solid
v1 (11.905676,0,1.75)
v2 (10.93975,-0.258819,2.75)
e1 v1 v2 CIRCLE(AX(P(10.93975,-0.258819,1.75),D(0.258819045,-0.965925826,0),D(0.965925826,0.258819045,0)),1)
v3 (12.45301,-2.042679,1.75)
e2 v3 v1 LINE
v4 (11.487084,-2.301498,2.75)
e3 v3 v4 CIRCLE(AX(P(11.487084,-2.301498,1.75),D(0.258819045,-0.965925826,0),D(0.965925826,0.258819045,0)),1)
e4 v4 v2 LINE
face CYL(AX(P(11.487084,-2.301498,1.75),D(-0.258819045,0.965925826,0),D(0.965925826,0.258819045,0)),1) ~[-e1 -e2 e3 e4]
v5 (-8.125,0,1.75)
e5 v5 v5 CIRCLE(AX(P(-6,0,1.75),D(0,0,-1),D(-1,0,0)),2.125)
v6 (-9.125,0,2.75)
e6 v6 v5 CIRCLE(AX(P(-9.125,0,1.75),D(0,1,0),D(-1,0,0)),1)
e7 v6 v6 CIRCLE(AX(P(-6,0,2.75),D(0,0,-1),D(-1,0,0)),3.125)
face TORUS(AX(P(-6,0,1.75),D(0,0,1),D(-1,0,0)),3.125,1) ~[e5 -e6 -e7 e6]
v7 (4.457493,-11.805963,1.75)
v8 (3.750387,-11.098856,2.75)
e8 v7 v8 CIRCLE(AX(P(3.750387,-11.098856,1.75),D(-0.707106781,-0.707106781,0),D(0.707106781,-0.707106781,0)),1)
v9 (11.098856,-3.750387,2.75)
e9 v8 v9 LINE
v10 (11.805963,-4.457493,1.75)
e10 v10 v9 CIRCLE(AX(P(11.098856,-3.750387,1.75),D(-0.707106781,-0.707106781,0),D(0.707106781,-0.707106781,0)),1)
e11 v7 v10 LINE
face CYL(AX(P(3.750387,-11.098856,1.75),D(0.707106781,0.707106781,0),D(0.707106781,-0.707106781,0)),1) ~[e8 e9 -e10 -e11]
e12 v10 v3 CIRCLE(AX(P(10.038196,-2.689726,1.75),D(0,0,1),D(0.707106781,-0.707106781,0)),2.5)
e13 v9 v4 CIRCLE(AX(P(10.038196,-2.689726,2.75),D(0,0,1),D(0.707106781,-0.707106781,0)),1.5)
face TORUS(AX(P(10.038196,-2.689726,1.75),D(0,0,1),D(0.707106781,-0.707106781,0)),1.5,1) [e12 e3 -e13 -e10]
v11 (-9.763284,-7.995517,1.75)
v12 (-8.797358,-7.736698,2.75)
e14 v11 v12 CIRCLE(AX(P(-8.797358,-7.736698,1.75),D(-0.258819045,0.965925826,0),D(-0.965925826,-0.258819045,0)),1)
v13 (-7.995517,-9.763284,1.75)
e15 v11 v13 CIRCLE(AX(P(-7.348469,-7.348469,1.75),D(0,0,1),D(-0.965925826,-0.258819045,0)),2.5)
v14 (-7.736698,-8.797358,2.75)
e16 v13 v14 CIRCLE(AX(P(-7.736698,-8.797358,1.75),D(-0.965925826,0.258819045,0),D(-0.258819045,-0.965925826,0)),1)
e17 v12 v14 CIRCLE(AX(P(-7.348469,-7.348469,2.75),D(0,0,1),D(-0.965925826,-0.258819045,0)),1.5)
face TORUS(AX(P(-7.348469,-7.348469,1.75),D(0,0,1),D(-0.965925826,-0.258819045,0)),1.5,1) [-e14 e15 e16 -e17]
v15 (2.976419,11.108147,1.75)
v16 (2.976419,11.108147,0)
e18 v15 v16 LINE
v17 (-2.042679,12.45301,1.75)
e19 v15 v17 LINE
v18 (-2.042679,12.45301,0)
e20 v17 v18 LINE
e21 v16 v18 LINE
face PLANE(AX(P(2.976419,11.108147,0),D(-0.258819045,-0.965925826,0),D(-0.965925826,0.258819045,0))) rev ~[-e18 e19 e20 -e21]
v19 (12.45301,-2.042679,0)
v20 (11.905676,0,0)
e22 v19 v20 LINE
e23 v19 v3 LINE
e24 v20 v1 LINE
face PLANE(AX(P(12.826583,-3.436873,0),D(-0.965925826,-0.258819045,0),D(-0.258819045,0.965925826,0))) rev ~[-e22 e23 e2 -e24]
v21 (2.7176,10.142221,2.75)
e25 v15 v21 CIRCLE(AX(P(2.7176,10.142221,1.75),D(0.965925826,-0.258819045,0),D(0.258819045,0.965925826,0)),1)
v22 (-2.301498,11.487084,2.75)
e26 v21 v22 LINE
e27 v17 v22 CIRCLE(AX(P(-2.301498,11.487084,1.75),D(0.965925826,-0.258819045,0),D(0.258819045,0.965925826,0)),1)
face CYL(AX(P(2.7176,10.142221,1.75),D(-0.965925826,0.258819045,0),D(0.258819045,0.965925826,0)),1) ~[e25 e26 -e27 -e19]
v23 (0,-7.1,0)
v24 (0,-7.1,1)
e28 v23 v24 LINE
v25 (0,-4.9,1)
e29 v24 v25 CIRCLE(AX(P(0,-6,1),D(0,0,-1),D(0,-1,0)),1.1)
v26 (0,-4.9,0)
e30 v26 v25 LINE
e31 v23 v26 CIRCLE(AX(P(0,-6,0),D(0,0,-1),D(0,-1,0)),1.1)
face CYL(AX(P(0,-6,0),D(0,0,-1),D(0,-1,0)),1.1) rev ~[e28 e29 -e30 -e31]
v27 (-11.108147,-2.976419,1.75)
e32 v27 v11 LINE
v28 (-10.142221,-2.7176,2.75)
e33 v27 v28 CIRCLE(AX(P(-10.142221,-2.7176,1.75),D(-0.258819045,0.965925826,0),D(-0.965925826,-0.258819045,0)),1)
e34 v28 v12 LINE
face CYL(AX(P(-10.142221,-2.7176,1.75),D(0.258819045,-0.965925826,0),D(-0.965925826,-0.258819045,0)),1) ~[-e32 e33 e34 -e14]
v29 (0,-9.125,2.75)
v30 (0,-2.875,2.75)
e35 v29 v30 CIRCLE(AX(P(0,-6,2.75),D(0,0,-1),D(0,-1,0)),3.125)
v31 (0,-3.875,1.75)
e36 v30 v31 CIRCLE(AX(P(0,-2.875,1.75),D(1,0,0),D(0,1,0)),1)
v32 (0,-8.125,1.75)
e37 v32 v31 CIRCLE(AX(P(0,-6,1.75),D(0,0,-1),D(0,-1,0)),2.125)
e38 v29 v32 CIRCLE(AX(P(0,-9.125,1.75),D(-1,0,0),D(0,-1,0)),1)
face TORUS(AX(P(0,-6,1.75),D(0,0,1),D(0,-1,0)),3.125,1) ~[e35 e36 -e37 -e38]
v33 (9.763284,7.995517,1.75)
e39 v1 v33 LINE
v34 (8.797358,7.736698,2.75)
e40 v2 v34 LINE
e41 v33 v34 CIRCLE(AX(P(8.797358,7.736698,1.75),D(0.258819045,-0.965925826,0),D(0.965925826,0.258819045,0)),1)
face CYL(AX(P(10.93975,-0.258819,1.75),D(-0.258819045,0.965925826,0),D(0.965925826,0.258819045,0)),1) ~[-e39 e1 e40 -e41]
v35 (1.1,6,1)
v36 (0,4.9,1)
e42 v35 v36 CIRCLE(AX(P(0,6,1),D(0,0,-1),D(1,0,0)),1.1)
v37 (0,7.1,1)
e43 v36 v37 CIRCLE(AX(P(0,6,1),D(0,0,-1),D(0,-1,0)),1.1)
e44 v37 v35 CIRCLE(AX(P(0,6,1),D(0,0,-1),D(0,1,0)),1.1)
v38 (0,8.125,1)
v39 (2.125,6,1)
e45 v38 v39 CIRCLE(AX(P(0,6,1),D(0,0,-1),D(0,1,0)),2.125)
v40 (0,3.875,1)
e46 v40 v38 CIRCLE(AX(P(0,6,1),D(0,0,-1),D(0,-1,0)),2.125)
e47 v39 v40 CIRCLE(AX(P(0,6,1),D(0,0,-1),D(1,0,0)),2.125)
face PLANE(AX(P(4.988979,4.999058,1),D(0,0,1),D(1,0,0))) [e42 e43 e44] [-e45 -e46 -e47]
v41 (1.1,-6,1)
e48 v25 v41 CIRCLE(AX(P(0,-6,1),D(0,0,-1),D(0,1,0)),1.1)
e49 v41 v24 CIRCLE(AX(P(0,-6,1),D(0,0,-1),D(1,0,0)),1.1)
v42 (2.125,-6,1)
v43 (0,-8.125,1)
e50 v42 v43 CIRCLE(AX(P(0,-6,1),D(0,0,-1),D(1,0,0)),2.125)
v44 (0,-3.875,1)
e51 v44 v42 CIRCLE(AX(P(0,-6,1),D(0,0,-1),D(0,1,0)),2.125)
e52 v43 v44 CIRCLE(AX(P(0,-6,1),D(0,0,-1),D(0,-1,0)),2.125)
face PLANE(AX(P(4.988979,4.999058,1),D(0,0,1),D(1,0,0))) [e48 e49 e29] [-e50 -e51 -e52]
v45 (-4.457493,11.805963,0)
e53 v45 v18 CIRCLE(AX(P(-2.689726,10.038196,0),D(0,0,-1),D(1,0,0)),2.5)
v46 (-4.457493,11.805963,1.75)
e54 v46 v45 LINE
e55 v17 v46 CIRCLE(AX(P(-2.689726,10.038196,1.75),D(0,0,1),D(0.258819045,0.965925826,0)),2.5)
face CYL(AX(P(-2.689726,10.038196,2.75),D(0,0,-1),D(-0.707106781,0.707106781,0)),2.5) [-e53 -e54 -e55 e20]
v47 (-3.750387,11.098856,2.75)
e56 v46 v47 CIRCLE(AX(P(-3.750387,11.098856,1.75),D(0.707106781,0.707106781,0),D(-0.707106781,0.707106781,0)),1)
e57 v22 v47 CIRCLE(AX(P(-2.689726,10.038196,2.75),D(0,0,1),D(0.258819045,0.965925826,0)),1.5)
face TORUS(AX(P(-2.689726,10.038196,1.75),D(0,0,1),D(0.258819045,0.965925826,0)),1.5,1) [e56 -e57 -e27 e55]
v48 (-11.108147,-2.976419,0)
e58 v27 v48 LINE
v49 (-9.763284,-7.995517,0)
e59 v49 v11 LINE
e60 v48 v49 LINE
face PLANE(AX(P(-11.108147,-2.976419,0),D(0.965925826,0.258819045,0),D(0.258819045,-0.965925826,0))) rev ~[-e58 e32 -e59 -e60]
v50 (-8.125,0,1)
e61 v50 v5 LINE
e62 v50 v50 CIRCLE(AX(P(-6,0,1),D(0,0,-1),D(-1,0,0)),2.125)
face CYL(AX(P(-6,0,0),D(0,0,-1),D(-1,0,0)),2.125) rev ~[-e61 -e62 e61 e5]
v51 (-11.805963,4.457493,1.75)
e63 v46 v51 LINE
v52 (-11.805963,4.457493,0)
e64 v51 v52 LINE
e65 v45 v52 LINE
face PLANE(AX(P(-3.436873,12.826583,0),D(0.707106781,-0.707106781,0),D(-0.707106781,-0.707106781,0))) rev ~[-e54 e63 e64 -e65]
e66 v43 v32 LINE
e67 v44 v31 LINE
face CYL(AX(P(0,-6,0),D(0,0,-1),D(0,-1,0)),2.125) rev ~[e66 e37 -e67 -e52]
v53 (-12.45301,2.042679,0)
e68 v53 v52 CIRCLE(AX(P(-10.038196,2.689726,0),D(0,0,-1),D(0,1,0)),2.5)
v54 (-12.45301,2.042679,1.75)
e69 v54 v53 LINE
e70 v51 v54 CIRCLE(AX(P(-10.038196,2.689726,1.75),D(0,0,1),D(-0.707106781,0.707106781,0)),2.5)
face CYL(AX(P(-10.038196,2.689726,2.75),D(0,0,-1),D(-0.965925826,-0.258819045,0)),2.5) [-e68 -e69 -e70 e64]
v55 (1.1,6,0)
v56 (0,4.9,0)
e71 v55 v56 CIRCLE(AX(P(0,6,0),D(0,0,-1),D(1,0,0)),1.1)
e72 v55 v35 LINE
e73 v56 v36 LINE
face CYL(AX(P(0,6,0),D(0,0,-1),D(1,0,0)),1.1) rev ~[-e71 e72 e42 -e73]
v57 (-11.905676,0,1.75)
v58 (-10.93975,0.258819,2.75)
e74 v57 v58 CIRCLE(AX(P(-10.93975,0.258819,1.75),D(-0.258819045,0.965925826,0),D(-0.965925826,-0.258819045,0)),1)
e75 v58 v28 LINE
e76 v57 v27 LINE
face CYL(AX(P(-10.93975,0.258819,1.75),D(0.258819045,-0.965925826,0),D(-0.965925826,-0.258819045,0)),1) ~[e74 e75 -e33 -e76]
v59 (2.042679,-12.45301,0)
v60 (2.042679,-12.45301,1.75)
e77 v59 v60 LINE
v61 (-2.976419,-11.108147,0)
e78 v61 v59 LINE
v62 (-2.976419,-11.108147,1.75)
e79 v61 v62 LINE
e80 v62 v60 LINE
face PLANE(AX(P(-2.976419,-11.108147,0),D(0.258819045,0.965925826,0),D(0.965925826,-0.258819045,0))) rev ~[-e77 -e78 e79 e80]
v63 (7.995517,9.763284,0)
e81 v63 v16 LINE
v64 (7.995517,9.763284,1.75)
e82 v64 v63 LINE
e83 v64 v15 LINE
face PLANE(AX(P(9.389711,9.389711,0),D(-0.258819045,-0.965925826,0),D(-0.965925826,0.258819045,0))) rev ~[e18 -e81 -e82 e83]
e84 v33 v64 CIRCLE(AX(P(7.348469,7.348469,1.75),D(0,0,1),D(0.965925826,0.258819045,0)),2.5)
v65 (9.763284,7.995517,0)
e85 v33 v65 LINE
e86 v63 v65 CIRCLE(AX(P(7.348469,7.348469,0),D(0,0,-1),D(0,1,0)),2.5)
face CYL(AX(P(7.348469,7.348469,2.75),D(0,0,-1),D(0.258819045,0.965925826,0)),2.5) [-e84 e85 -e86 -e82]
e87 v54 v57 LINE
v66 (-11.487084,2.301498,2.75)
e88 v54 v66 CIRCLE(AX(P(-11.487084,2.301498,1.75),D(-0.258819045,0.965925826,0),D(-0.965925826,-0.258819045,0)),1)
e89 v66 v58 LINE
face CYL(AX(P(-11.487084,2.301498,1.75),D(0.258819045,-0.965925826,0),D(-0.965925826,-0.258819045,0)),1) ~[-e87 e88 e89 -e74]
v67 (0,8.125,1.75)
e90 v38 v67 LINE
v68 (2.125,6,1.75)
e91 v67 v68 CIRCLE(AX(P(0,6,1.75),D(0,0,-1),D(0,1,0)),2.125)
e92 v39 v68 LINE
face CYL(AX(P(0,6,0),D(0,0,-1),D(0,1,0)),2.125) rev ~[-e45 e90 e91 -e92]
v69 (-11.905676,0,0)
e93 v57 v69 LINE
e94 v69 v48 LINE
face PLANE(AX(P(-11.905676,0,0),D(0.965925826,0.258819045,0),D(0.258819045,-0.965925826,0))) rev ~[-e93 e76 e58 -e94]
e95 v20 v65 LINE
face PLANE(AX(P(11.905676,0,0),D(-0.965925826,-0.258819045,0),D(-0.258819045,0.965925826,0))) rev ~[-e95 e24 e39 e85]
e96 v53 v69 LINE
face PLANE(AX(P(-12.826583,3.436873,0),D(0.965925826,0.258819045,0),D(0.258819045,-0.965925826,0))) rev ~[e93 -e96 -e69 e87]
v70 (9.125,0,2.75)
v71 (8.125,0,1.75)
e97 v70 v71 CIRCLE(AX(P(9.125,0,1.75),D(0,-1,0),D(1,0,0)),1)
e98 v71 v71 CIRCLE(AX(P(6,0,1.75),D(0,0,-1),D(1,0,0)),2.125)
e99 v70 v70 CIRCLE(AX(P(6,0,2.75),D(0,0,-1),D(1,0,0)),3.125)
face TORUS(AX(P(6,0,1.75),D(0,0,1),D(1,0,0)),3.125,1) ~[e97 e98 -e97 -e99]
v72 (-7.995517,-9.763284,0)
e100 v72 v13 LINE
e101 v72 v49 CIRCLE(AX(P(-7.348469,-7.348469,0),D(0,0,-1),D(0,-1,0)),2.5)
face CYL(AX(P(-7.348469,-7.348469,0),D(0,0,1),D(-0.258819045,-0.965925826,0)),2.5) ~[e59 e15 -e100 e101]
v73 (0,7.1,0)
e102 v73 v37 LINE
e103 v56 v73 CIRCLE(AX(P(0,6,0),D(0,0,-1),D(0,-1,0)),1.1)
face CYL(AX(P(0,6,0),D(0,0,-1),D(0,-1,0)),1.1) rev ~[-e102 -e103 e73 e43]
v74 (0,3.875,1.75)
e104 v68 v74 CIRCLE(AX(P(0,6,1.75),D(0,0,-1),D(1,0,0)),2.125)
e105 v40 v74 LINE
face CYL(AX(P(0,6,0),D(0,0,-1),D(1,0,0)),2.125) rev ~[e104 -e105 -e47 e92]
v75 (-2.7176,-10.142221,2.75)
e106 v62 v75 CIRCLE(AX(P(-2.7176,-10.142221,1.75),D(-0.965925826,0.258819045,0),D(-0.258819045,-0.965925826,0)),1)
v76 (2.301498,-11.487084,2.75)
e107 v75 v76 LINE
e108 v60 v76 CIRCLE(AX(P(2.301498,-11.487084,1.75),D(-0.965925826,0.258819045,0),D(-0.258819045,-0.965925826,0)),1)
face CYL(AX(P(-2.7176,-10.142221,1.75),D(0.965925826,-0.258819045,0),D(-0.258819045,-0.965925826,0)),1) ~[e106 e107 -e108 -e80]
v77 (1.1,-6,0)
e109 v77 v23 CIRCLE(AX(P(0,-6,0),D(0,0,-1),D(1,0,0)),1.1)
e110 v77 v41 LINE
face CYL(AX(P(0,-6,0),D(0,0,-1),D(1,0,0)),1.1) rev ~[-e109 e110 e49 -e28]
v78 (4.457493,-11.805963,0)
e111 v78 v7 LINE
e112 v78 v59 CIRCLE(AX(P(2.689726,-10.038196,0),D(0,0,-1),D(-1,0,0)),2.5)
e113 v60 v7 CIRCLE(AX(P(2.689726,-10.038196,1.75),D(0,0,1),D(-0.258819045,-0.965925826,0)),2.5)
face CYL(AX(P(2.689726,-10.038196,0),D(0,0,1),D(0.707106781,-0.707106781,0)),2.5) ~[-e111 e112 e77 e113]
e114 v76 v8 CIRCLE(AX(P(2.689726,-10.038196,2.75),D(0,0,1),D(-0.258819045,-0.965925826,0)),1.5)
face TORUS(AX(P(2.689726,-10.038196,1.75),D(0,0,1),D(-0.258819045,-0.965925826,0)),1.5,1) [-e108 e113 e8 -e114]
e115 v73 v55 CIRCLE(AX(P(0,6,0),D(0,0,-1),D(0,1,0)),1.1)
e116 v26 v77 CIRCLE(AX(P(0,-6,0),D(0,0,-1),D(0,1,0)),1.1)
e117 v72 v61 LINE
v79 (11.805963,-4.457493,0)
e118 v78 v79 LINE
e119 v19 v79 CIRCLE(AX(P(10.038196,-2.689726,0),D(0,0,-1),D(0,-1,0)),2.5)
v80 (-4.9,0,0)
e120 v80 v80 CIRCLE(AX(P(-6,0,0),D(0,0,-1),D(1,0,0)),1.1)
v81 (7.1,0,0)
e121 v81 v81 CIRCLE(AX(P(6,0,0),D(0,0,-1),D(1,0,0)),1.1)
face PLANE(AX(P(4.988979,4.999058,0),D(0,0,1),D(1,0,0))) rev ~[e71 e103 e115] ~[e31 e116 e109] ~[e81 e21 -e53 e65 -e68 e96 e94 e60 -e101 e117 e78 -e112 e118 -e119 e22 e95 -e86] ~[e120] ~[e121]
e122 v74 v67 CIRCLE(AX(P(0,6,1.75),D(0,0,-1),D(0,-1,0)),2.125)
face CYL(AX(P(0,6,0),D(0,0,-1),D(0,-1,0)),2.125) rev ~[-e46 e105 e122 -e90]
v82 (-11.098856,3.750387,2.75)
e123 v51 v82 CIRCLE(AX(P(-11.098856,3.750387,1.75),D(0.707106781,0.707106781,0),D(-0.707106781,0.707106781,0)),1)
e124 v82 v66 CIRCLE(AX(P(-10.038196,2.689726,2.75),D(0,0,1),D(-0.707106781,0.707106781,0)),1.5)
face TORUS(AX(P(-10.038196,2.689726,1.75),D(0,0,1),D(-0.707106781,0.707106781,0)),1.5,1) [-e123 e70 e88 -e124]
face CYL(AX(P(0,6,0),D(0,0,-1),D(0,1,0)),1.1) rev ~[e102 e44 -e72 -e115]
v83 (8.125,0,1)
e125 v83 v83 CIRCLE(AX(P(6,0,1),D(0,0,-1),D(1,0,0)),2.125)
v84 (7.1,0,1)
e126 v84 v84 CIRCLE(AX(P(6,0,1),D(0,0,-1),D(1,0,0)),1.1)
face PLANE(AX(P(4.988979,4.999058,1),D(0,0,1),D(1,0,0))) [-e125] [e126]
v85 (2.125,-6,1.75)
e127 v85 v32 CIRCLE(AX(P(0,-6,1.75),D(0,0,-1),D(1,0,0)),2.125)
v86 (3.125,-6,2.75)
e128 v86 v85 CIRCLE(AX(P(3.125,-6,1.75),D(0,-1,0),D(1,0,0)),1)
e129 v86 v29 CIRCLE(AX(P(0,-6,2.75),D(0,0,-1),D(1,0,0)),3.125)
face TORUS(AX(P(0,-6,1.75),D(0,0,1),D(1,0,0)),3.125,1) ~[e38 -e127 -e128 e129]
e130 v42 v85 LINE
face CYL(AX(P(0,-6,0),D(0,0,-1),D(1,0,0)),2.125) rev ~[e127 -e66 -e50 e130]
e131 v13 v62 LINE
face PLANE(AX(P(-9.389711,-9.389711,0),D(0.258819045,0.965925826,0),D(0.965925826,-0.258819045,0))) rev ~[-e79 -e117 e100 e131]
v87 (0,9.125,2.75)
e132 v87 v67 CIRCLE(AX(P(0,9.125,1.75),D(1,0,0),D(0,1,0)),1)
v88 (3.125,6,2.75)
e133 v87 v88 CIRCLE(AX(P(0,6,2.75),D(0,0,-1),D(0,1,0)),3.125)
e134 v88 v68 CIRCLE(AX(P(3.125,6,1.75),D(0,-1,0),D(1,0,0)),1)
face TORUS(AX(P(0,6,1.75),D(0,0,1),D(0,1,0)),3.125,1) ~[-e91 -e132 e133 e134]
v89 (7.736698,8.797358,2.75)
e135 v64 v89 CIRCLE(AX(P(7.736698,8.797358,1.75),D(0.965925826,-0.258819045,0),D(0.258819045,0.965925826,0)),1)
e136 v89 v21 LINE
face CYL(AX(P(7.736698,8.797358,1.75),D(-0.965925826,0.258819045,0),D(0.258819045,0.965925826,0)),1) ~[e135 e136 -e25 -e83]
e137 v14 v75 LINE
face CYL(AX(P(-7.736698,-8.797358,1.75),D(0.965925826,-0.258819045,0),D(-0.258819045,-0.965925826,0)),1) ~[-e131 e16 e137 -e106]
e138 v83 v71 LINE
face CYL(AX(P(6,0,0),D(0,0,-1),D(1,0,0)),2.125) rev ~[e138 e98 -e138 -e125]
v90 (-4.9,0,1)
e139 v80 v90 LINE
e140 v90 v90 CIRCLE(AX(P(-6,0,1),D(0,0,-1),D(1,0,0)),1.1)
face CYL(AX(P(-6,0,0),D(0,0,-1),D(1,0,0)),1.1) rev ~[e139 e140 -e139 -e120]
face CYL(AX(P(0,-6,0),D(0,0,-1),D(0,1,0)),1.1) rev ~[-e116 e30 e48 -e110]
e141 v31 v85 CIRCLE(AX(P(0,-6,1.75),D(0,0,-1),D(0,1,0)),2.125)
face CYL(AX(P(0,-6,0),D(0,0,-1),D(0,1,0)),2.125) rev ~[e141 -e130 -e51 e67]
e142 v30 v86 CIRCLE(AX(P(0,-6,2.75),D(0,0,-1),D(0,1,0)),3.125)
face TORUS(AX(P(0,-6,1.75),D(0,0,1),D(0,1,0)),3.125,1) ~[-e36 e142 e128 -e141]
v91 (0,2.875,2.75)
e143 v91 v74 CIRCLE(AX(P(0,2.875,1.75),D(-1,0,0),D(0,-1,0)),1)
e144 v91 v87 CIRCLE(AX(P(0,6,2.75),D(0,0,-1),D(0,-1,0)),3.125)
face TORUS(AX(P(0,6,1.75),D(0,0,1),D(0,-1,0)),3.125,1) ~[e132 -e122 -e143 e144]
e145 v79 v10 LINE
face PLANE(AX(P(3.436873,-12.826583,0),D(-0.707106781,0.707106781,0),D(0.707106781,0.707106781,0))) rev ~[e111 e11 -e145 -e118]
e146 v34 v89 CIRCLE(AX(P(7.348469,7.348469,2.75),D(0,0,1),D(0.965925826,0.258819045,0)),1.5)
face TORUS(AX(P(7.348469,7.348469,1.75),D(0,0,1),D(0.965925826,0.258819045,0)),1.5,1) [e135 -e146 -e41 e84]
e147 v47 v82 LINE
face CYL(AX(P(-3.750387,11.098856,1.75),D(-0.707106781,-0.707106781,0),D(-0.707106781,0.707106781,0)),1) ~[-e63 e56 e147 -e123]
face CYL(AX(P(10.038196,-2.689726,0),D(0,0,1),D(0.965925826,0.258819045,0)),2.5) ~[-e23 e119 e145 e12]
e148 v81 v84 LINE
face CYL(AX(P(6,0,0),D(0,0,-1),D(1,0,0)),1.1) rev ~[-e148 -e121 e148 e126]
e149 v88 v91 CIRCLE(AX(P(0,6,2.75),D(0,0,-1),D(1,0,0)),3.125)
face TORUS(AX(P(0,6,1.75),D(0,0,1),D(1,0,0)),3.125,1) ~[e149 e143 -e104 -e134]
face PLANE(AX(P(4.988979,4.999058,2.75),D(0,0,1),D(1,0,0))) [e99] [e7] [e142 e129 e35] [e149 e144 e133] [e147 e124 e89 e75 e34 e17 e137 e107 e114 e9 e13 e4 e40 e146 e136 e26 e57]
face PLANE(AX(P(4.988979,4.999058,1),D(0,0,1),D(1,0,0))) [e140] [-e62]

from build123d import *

# Parameters (mm, degrees)
F1_DEPTH = 1
F2_DEPTH = 2.75
F3_R     = 2.5
F4_R     = 1


with BuildPart() as f1:
    # F0 (on Top) → F1 (new body)
    with BuildSketch(Plane.XY):
        with BuildLine():
            Line((8.125, 0), (11.5, 0))
            ThreePointArc((11.5, 0), (11.4016159132, 1.5010511546), (11.1081470315, 2.9764189098))
            ThreePointArc((11.1081470315, 2.9764189098), (8.1317280214, 8.1317279459), (2.9764190129, 11.1081470039))
            ThreePointArc((2.9764190129, 11.1081470039), (1.5010512076, 11.4016159062), (0, 11.5))
            Line((0, 11.5), (0, 8.125))
            ThreePointArc((0, 8.125), (1.50260191, 7.50260191), (2.125, 6))
            ThreePointArc((2.125, 6), (1.50260191, 4.49739809), (0, 3.875))
            Line((0, 3.875), (0, 2.5))
            ThreePointArc((0, 2.5), (1.767766953, 1.767766953), (2.5, 0))
            Line((2.5, 0), (3.875, 0))
            ThreePointArc((3.875, 0), (6, 2.125), (8.125, 0))
        make_face()
        with BuildLine():
            Line((11.9056760747, 0), (11.5, 0))
            ThreePointArc((11.5, 0), (10.6246146329, -4.4008594505), (8.1317280169, -8.1317279504))
            Line((8.1317280169, -8.1317279504), (12.826583324, -3.4368726433))
            Line((12.826583324, -3.4368726433), (11.9056760747, 0))
        make_face()
        with BuildLine():
            ThreePointArc((8.1317280169, -8.1317279504), (10.6246146329, -4.4008594505), (11.5, 0))
            Line((11.5, 0), (8.125, 0))
            ThreePointArc((8.125, 0), (6, -2.125), (3.875, 0))
            Line((3.875, 0), (2.5, 0))
            ThreePointArc((2.5, 0), (1.767766953, -1.767766953), (0, -2.5))
            Line((0, -2.5), (0, -3.875))
            ThreePointArc((0, -3.875), (1.50260191, -4.49739809), (2.125, -6))
            ThreePointArc((2.125, -6), (1.50260191, -7.50260191), (0, -8.125))
            Line((0, -8.125), (0, -11.5))
            ThreePointArc((0, -11.5), (4.4008594939, -10.6246146149), (8.1317280169, -8.1317279504))
        make_face()
        with BuildLine():
            ThreePointArc((11.1081470315, 2.9764189098), (11.4016159132, 1.5010511546), (11.5, 0))
            Line((11.5, 0), (11.9056760747, 0))
            Line((11.9056760747, 0), (11.1081470315, 2.9764189098))
        make_face()
        with BuildLine():
            ThreePointArc((2.9764190129, 11.1081470039), (8.1317280214, 8.1317279459), (11.1081470315, 2.9764189098))
            Line((11.1081470315, 2.9764189098), (9.3897106807, 9.3897106807))
            Line((9.3897106807, 9.3897106807), (2.9764190129, 11.1081470039))
        make_face()
        with BuildLine():
            Line((3.4368726433, -12.826583324), (8.1317280169, -8.1317279504))
            ThreePointArc((8.1317280169, -8.1317279504), (4.4008594939, -10.6246146149), (0, -11.5))
            ThreePointArc((0, -11.5), (-1.5010512561, -11.4016158998), (-2.9764191076, -11.1081469785))
            Line((-2.9764191076, -11.1081469785), (3.4368726433, -12.826583324))
        make_face()
        with BuildLine():
            ThreePointArc((0, 11.5), (1.5010512076, 11.4016159062), (2.9764190129, 11.1081470039))
            Line((2.9764190129, 11.1081470039), (-3.4368726433, 12.826583324))
            Line((-3.4368726433, 12.826583324), (-8.1317279863, 8.131727981))
            ThreePointArc((-8.1317279863, 8.131727981), (-4.4008594739, 10.6246146232), (0, 11.5))
        make_face()
        with BuildLine():
            ThreePointArc((-2.9764191076, -11.1081469785), (-1.5010512561, -11.4016158998), (0, -11.5))
            Line((0, -11.5), (0, -8.125))
            ThreePointArc((0, -8.125), (-2.125, -6), (0, -3.875))
            Line((0, -3.875), (0, -2.5))
            ThreePointArc((0, -2.5), (-1.767766953, -1.767766953), (-2.5, 0))
            Line((-2.5, 0), (-3.875, 0))
            ThreePointArc((-3.875, 0), (-6, -2.125), (-8.125, 0))
            Line((-8.125, 0), (-11.5, 0))
            ThreePointArc((-11.5, 0), (-11.4016159126, -1.5010511592), (-11.1081470291, -2.9764189186))
            ThreePointArc((-11.1081470291, -2.9764189186), (-8.1317280528, -8.1317279145), (-2.9764191076, -11.1081469785))
        make_face()
        with BuildLine():
            Line((0, 8.125), (0, 11.5))
            ThreePointArc((0, 11.5), (-4.4008594739, 10.6246146232), (-8.1317279863, 8.131727981))
            Line((-8.1317279836, 8.1317279836), (-1.767766953, 1.767766953))
            ThreePointArc((-1.767766953, 1.767766953), (-0.9567085809, 2.3096988313), (0, 2.5))
            Line((0, 2.5), (0, 3.875))
            ThreePointArc((0, 3.875), (-2.125, 6), (0, 8.125))
        make_face()
        with BuildLine():
            Line((-9.3897106807, -9.3897106807), (-2.9764191076, -11.1081469785))
            ThreePointArc((-2.9764191076, -11.1081469785), (-8.1317280528, -8.1317279145), (-11.1081470291, -2.9764189186))
            Line((-11.1081470291, -2.9764189186), (-9.3897106807, -9.3897106807))
        make_face()
        with BuildLine():
            Line((-1.767766953, 1.767766953), (-8.1317279836, 8.1317279836))
            ThreePointArc((-8.1317279863, 8.131727981), (-10.6246146246, 4.4008594705), (-11.5, 0))
            Line((-11.5, 0), (-8.125, 0))
            ThreePointArc((-8.125, 0), (-6, 2.125), (-3.875, 0))
            Line((-3.875, 0), (-2.5, 0))
            ThreePointArc((-2.5, 0), (-2.3096988313, 0.9567085809), (-1.767766953, 1.767766953))
        make_face()
        with BuildLine():
            ThreePointArc((-11.5, 0), (-10.6246146246, 4.4008594705), (-8.1317279863, 8.131727981))
            Line((-8.1317279863, 8.131727981), (-12.826583324, 3.4368726433))
            Line((-12.826583324, 3.4368726433), (-11.9056760747, 0))
            Line((-11.9056760747, 0), (-11.5, 0))
        make_face()
        with BuildLine():
            Line((-11.9056760747, 0), (-11.1081470291, -2.9764189186))
            ThreePointArc((-11.1081470291, -2.9764189186), (-11.4016159126, -1.5010511592), (-11.5, 0))
            Line((-11.5, 0), (-11.9056760747, 0))
        make_face()
        with BuildLine():
            ThreePointArc((-3.875, 0), (-6, 2.125), (-8.125, 0))
            Line((-8.125, 0), (-7.1, 0))
            ThreePointArc((-7.1, 0), (-6, 1.1), (-4.9, 0))
            Line((-4.9, 0), (-3.875, 0))
        make_face()
        with BuildLine():
            Line((-7.1, 0), (-8.125, 0))
            ThreePointArc((-8.125, 0), (-6, -2.125), (-3.875, 0))
            Line((-3.875, 0), (-4.9, 0))
            ThreePointArc((-4.9, 0), (-6, -1.1), (-7.1, 0))
        make_face()
        with BuildLine():
            Line((0, 7.1), (0, 8.125))
            ThreePointArc((0, 8.125), (-2.125, 6), (0, 3.875))
            Line((0, 3.875), (0, 4.9))
            ThreePointArc((0, 4.9), (-1.1, 6), (0, 7.1))
        make_face()
        with BuildLine():
            ThreePointArc((2.125, 6), (1.50260191, 7.50260191), (0, 8.125))
            Line((0, 8.125), (0, 7.1))
            ThreePointArc((0, 7.1), (0.7778174593, 6.7778174593), (1.1, 6))
            ThreePointArc((1.1, 6), (0.7778174593, 5.2221825407), (0, 4.9))
            Line((0, 4.9), (0, 3.875))
            ThreePointArc((0, 3.875), (1.50260191, 4.49739809), (2.125, 6))
        make_face()
        with BuildLine():
            Line((7.1, 0), (8.125, 0))
            ThreePointArc((8.125, 0), (6, 2.125), (3.875, 0))
            Line((3.875, 0), (4.9, 0))
            ThreePointArc((4.9, 0), (6, 1.1), (7.1, 0))
        make_face()
        with BuildLine():
            ThreePointArc((3.875, 0), (6, -2.125), (8.125, 0))
            Line((8.125, 0), (7.1, 0))
            ThreePointArc((7.1, 0), (6, -1.1), (4.9, 0))
            Line((4.9, 0), (3.875, 0))
        make_face()
        with BuildLine():
            Line((0, -7.1), (0, -8.125))
            ThreePointArc((0, -8.125), (1.50260191, -7.50260191), (2.125, -6))
            ThreePointArc((2.125, -6), (1.50260191, -4.49739809), (0, -3.875))
            Line((0, -3.875), (0, -4.9))
            ThreePointArc((0, -4.9), (0.7778174593, -5.2221825407), (1.1, -6))
            ThreePointArc((1.1, -6), (0.7778174593, -6.7778174593), (0, -7.1))
        make_face()
        with BuildLine():
            ThreePointArc((0, -3.875), (-2.125, -6), (0, -8.125))
            Line((0, -8.125), (0, -7.1))
            ThreePointArc((0, -7.1), (-1.1, -6), (0, -4.9))
            Line((0, -4.9), (0, -3.875))
        make_face()
        with BuildLine():
            Line((0, -2.5), (0, 0))
            Line((0, 0), (-2.5, 0))
            ThreePointArc((-2.5, 0), (-1.767766953, -1.767766953), (0, -2.5))
        make_face()
        with BuildLine():
            Line((-2.5, 0), (0, 0))
            Line((0, 0), (-1.767766953, 1.767766953))
            ThreePointArc((-1.767766953, 1.767766953), (-2.3096988313, 0.9567085809), (-2.5, 0))
        make_face()
        with BuildLine():
            Line((-1.767766953, 1.767766953), (0, 0))
            Line((0, 0), (0, 2.5))
            ThreePointArc((0, 2.5), (-0.9567085809, 2.3096988313), (-1.767766953, 1.767766953))
        make_face()
        with BuildLine():
            Line((0, 0), (2.5, 0))
            ThreePointArc((2.5, 0), (1.767766953, 1.767766953), (0, 2.5))
            Line((0, 2.5), (0, 0))
        make_face()
        with BuildLine():
            ThreePointArc((0, -2.5), (1.767766953, -1.767766953), (2.5, 0))
            Line((2.5, 0), (0, 0))
            Line((0, 0), (0, -2.5))
        make_face()
    extrude(amount=F1_DEPTH)

    # F0 (on Top) → F2 (join)
    with BuildSketch(Plane.XY):
        with BuildLine():
            Line((8.125, 0), (11.5, 0))
            ThreePointArc((11.5, 0), (11.4016159132, 1.5010511546), (11.1081470315, 2.9764189098))
            ThreePointArc((11.1081470315, 2.9764189098), (8.1317280214, 8.1317279459), (2.9764190129, 11.1081470039))
            ThreePointArc((2.9764190129, 11.1081470039), (1.5010512076, 11.4016159062), (0, 11.5))
            Line((0, 11.5), (0, 8.125))
            ThreePointArc((0, 8.125), (1.50260191, 7.50260191), (2.125, 6))
            ThreePointArc((2.125, 6), (1.50260191, 4.49739809), (0, 3.875))
            Line((0, 3.875), (0, 2.5))
            ThreePointArc((0, 2.5), (1.767766953, 1.767766953), (2.5, 0))
            Line((2.5, 0), (3.875, 0))
            ThreePointArc((3.875, 0), (6, 2.125), (8.125, 0))
        make_face()
        with BuildLine():
            Line((11.9056760747, 0), (11.5, 0))
            ThreePointArc((11.5, 0), (10.6246146329, -4.4008594505), (8.1317280169, -8.1317279504))
            Line((8.1317280169, -8.1317279504), (12.826583324, -3.4368726433))
            Line((12.826583324, -3.4368726433), (11.9056760747, 0))
        make_face()
        with BuildLine():
            ThreePointArc((8.1317280169, -8.1317279504), (10.6246146329, -4.4008594505), (11.5, 0))
            Line((11.5, 0), (8.125, 0))
            ThreePointArc((8.125, 0), (6, -2.125), (3.875, 0))
            Line((3.875, 0), (2.5, 0))
            ThreePointArc((2.5, 0), (1.767766953, -1.767766953), (0, -2.5))
            Line((0, -2.5), (0, -3.875))
            ThreePointArc((0, -3.875), (1.50260191, -4.49739809), (2.125, -6))
            ThreePointArc((2.125, -6), (1.50260191, -7.50260191), (0, -8.125))
            Line((0, -8.125), (0, -11.5))
            ThreePointArc((0, -11.5), (4.4008594939, -10.6246146149), (8.1317280169, -8.1317279504))
        make_face()
        with BuildLine():
            ThreePointArc((11.1081470315, 2.9764189098), (11.4016159132, 1.5010511546), (11.5, 0))
            Line((11.5, 0), (11.9056760747, 0))
            Line((11.9056760747, 0), (11.1081470315, 2.9764189098))
        make_face()
        with BuildLine():
            ThreePointArc((2.9764190129, 11.1081470039), (8.1317280214, 8.1317279459), (11.1081470315, 2.9764189098))
            Line((11.1081470315, 2.9764189098), (9.3897106807, 9.3897106807))
            Line((9.3897106807, 9.3897106807), (2.9764190129, 11.1081470039))
        make_face()
        with BuildLine():
            Line((3.4368726433, -12.826583324), (8.1317280169, -8.1317279504))
            ThreePointArc((8.1317280169, -8.1317279504), (4.4008594939, -10.6246146149), (0, -11.5))
            ThreePointArc((0, -11.5), (-1.5010512561, -11.4016158998), (-2.9764191076, -11.1081469785))
            Line((-2.9764191076, -11.1081469785), (3.4368726433, -12.826583324))
        make_face()
        with BuildLine():
            ThreePointArc((0, 11.5), (1.5010512076, 11.4016159062), (2.9764190129, 11.1081470039))
            Line((2.9764190129, 11.1081470039), (-3.4368726433, 12.826583324))
            Line((-3.4368726433, 12.826583324), (-8.1317279863, 8.131727981))
            ThreePointArc((-8.1317279863, 8.131727981), (-4.4008594739, 10.6246146232), (0, 11.5))
        make_face()
        with BuildLine():
            ThreePointArc((-2.9764191076, -11.1081469785), (-1.5010512561, -11.4016158998), (0, -11.5))
            Line((0, -11.5), (0, -8.125))
            ThreePointArc((0, -8.125), (-2.125, -6), (0, -3.875))
            Line((0, -3.875), (0, -2.5))
            ThreePointArc((0, -2.5), (-1.767766953, -1.767766953), (-2.5, 0))
            Line((-2.5, 0), (-3.875, 0))
            ThreePointArc((-3.875, 0), (-6, -2.125), (-8.125, 0))
            Line((-8.125, 0), (-11.5, 0))
            ThreePointArc((-11.5, 0), (-11.4016159126, -1.5010511592), (-11.1081470291, -2.9764189186))
            ThreePointArc((-11.1081470291, -2.9764189186), (-8.1317280528, -8.1317279145), (-2.9764191076, -11.1081469785))
        make_face()
        with BuildLine():
            Line((0, 8.125), (0, 11.5))
            ThreePointArc((0, 11.5), (-4.4008594739, 10.6246146232), (-8.1317279863, 8.131727981))
            Line((-8.1317279836, 8.1317279836), (-1.767766953, 1.767766953))
            ThreePointArc((-1.767766953, 1.767766953), (-0.9567085809, 2.3096988313), (0, 2.5))
            Line((0, 2.5), (0, 3.875))
            ThreePointArc((0, 3.875), (-2.125, 6), (0, 8.125))
        make_face()
        with BuildLine():
            Line((-9.3897106807, -9.3897106807), (-2.9764191076, -11.1081469785))
            ThreePointArc((-2.9764191076, -11.1081469785), (-8.1317280528, -8.1317279145), (-11.1081470291, -2.9764189186))
            Line((-11.1081470291, -2.9764189186), (-9.3897106807, -9.3897106807))
        make_face()
        with BuildLine():
            Line((-1.767766953, 1.767766953), (-8.1317279836, 8.1317279836))
            ThreePointArc((-8.1317279863, 8.131727981), (-10.6246146246, 4.4008594705), (-11.5, 0))
            Line((-11.5, 0), (-8.125, 0))
            ThreePointArc((-8.125, 0), (-6, 2.125), (-3.875, 0))
            Line((-3.875, 0), (-2.5, 0))
            ThreePointArc((-2.5, 0), (-2.3096988313, 0.9567085809), (-1.767766953, 1.767766953))
        make_face()
        with BuildLine():
            ThreePointArc((-11.5, 0), (-10.6246146246, 4.4008594705), (-8.1317279863, 8.131727981))
            Line((-8.1317279863, 8.131727981), (-12.826583324, 3.4368726433))
            Line((-12.826583324, 3.4368726433), (-11.9056760747, 0))
            Line((-11.9056760747, 0), (-11.5, 0))
        make_face()
        with BuildLine():
            Line((-11.9056760747, 0), (-11.1081470291, -2.9764189186))
            ThreePointArc((-11.1081470291, -2.9764189186), (-11.4016159126, -1.5010511592), (-11.5, 0))
            Line((-11.5, 0), (-11.9056760747, 0))
        make_face()
        with BuildLine():
            Line((-1.767766953, 1.767766953), (0, 0))
            Line((0, 0), (0, 2.5))
            ThreePointArc((0, 2.5), (-0.9567085809, 2.3096988313), (-1.767766953, 1.767766953))
        make_face()
        with BuildLine():
            Line((-2.5, 0), (0, 0))
            Line((0, 0), (-1.767766953, 1.767766953))
            ThreePointArc((-1.767766953, 1.767766953), (-2.3096988313, 0.9567085809), (-2.5, 0))
        make_face()
        with BuildLine():
            Line((0, -2.5), (0, 0))
            Line((0, 0), (-2.5, 0))
            ThreePointArc((-2.5, 0), (-1.767766953, -1.767766953), (0, -2.5))
        make_face()
        with BuildLine():
            ThreePointArc((0, -2.5), (1.767766953, -1.767766953), (2.5, 0))
            Line((2.5, 0), (0, 0))
            Line((0, 0), (0, -2.5))
        make_face()
        with BuildLine():
            Line((0, 0), (2.5, 0))
            ThreePointArc((2.5, 0), (1.767766953, 1.767766953), (0, 2.5))
            Line((0, 2.5), (0, 0))
        make_face()
    extrude(amount=F2_DEPTH)

    # F3
    f3_edges = [f1.edges().sort_by_distance(p)[0] for p in [
        (-3.436873, 12.826583, 1.375),
        (-12.826583, 3.436873, 1.375),
        (-9.389711, -9.389711, 1.375),
        (3.436873, -12.826583, 1.375),
        (12.826583, -3.436873, 1.375),
        (9.389711, 9.389711, 1.375),
    ]]
    fillet(f3_edges, radius=F3_R)

    # F4
    f4_edges = [f1.edges().sort_by_distance(p)[0] for p in [
        (-2.976419, -11.108147, 2.75),
        (-9.116236, -9.116236, 2.75),
        (3.336774, -12.45301, 2.75),
        (-11.108147, -2.976419, 2.75),
        (8.131728, -8.131728, 2.75),
        (-12.45301, 3.336774, 2.75),
        (12.45301, -3.336774, 2.75),
        (-8.131728, 8.131728, 2.75),
        (11.108147, 2.976419, 2.75),
        (-3.336774, 12.45301, 2.75),
        (9.116236, 9.116236, 2.75),
        (2.976419, 11.108147, 2.75),
        (-3.875, 0, 2.75),
        (0, 8.125, 2.75),
        (0, -3.875, 2.75),
        (3.875, 0, 2.75),
    ]]
    fillet(f4_edges, radius=F4_R)


solid = f1.part
